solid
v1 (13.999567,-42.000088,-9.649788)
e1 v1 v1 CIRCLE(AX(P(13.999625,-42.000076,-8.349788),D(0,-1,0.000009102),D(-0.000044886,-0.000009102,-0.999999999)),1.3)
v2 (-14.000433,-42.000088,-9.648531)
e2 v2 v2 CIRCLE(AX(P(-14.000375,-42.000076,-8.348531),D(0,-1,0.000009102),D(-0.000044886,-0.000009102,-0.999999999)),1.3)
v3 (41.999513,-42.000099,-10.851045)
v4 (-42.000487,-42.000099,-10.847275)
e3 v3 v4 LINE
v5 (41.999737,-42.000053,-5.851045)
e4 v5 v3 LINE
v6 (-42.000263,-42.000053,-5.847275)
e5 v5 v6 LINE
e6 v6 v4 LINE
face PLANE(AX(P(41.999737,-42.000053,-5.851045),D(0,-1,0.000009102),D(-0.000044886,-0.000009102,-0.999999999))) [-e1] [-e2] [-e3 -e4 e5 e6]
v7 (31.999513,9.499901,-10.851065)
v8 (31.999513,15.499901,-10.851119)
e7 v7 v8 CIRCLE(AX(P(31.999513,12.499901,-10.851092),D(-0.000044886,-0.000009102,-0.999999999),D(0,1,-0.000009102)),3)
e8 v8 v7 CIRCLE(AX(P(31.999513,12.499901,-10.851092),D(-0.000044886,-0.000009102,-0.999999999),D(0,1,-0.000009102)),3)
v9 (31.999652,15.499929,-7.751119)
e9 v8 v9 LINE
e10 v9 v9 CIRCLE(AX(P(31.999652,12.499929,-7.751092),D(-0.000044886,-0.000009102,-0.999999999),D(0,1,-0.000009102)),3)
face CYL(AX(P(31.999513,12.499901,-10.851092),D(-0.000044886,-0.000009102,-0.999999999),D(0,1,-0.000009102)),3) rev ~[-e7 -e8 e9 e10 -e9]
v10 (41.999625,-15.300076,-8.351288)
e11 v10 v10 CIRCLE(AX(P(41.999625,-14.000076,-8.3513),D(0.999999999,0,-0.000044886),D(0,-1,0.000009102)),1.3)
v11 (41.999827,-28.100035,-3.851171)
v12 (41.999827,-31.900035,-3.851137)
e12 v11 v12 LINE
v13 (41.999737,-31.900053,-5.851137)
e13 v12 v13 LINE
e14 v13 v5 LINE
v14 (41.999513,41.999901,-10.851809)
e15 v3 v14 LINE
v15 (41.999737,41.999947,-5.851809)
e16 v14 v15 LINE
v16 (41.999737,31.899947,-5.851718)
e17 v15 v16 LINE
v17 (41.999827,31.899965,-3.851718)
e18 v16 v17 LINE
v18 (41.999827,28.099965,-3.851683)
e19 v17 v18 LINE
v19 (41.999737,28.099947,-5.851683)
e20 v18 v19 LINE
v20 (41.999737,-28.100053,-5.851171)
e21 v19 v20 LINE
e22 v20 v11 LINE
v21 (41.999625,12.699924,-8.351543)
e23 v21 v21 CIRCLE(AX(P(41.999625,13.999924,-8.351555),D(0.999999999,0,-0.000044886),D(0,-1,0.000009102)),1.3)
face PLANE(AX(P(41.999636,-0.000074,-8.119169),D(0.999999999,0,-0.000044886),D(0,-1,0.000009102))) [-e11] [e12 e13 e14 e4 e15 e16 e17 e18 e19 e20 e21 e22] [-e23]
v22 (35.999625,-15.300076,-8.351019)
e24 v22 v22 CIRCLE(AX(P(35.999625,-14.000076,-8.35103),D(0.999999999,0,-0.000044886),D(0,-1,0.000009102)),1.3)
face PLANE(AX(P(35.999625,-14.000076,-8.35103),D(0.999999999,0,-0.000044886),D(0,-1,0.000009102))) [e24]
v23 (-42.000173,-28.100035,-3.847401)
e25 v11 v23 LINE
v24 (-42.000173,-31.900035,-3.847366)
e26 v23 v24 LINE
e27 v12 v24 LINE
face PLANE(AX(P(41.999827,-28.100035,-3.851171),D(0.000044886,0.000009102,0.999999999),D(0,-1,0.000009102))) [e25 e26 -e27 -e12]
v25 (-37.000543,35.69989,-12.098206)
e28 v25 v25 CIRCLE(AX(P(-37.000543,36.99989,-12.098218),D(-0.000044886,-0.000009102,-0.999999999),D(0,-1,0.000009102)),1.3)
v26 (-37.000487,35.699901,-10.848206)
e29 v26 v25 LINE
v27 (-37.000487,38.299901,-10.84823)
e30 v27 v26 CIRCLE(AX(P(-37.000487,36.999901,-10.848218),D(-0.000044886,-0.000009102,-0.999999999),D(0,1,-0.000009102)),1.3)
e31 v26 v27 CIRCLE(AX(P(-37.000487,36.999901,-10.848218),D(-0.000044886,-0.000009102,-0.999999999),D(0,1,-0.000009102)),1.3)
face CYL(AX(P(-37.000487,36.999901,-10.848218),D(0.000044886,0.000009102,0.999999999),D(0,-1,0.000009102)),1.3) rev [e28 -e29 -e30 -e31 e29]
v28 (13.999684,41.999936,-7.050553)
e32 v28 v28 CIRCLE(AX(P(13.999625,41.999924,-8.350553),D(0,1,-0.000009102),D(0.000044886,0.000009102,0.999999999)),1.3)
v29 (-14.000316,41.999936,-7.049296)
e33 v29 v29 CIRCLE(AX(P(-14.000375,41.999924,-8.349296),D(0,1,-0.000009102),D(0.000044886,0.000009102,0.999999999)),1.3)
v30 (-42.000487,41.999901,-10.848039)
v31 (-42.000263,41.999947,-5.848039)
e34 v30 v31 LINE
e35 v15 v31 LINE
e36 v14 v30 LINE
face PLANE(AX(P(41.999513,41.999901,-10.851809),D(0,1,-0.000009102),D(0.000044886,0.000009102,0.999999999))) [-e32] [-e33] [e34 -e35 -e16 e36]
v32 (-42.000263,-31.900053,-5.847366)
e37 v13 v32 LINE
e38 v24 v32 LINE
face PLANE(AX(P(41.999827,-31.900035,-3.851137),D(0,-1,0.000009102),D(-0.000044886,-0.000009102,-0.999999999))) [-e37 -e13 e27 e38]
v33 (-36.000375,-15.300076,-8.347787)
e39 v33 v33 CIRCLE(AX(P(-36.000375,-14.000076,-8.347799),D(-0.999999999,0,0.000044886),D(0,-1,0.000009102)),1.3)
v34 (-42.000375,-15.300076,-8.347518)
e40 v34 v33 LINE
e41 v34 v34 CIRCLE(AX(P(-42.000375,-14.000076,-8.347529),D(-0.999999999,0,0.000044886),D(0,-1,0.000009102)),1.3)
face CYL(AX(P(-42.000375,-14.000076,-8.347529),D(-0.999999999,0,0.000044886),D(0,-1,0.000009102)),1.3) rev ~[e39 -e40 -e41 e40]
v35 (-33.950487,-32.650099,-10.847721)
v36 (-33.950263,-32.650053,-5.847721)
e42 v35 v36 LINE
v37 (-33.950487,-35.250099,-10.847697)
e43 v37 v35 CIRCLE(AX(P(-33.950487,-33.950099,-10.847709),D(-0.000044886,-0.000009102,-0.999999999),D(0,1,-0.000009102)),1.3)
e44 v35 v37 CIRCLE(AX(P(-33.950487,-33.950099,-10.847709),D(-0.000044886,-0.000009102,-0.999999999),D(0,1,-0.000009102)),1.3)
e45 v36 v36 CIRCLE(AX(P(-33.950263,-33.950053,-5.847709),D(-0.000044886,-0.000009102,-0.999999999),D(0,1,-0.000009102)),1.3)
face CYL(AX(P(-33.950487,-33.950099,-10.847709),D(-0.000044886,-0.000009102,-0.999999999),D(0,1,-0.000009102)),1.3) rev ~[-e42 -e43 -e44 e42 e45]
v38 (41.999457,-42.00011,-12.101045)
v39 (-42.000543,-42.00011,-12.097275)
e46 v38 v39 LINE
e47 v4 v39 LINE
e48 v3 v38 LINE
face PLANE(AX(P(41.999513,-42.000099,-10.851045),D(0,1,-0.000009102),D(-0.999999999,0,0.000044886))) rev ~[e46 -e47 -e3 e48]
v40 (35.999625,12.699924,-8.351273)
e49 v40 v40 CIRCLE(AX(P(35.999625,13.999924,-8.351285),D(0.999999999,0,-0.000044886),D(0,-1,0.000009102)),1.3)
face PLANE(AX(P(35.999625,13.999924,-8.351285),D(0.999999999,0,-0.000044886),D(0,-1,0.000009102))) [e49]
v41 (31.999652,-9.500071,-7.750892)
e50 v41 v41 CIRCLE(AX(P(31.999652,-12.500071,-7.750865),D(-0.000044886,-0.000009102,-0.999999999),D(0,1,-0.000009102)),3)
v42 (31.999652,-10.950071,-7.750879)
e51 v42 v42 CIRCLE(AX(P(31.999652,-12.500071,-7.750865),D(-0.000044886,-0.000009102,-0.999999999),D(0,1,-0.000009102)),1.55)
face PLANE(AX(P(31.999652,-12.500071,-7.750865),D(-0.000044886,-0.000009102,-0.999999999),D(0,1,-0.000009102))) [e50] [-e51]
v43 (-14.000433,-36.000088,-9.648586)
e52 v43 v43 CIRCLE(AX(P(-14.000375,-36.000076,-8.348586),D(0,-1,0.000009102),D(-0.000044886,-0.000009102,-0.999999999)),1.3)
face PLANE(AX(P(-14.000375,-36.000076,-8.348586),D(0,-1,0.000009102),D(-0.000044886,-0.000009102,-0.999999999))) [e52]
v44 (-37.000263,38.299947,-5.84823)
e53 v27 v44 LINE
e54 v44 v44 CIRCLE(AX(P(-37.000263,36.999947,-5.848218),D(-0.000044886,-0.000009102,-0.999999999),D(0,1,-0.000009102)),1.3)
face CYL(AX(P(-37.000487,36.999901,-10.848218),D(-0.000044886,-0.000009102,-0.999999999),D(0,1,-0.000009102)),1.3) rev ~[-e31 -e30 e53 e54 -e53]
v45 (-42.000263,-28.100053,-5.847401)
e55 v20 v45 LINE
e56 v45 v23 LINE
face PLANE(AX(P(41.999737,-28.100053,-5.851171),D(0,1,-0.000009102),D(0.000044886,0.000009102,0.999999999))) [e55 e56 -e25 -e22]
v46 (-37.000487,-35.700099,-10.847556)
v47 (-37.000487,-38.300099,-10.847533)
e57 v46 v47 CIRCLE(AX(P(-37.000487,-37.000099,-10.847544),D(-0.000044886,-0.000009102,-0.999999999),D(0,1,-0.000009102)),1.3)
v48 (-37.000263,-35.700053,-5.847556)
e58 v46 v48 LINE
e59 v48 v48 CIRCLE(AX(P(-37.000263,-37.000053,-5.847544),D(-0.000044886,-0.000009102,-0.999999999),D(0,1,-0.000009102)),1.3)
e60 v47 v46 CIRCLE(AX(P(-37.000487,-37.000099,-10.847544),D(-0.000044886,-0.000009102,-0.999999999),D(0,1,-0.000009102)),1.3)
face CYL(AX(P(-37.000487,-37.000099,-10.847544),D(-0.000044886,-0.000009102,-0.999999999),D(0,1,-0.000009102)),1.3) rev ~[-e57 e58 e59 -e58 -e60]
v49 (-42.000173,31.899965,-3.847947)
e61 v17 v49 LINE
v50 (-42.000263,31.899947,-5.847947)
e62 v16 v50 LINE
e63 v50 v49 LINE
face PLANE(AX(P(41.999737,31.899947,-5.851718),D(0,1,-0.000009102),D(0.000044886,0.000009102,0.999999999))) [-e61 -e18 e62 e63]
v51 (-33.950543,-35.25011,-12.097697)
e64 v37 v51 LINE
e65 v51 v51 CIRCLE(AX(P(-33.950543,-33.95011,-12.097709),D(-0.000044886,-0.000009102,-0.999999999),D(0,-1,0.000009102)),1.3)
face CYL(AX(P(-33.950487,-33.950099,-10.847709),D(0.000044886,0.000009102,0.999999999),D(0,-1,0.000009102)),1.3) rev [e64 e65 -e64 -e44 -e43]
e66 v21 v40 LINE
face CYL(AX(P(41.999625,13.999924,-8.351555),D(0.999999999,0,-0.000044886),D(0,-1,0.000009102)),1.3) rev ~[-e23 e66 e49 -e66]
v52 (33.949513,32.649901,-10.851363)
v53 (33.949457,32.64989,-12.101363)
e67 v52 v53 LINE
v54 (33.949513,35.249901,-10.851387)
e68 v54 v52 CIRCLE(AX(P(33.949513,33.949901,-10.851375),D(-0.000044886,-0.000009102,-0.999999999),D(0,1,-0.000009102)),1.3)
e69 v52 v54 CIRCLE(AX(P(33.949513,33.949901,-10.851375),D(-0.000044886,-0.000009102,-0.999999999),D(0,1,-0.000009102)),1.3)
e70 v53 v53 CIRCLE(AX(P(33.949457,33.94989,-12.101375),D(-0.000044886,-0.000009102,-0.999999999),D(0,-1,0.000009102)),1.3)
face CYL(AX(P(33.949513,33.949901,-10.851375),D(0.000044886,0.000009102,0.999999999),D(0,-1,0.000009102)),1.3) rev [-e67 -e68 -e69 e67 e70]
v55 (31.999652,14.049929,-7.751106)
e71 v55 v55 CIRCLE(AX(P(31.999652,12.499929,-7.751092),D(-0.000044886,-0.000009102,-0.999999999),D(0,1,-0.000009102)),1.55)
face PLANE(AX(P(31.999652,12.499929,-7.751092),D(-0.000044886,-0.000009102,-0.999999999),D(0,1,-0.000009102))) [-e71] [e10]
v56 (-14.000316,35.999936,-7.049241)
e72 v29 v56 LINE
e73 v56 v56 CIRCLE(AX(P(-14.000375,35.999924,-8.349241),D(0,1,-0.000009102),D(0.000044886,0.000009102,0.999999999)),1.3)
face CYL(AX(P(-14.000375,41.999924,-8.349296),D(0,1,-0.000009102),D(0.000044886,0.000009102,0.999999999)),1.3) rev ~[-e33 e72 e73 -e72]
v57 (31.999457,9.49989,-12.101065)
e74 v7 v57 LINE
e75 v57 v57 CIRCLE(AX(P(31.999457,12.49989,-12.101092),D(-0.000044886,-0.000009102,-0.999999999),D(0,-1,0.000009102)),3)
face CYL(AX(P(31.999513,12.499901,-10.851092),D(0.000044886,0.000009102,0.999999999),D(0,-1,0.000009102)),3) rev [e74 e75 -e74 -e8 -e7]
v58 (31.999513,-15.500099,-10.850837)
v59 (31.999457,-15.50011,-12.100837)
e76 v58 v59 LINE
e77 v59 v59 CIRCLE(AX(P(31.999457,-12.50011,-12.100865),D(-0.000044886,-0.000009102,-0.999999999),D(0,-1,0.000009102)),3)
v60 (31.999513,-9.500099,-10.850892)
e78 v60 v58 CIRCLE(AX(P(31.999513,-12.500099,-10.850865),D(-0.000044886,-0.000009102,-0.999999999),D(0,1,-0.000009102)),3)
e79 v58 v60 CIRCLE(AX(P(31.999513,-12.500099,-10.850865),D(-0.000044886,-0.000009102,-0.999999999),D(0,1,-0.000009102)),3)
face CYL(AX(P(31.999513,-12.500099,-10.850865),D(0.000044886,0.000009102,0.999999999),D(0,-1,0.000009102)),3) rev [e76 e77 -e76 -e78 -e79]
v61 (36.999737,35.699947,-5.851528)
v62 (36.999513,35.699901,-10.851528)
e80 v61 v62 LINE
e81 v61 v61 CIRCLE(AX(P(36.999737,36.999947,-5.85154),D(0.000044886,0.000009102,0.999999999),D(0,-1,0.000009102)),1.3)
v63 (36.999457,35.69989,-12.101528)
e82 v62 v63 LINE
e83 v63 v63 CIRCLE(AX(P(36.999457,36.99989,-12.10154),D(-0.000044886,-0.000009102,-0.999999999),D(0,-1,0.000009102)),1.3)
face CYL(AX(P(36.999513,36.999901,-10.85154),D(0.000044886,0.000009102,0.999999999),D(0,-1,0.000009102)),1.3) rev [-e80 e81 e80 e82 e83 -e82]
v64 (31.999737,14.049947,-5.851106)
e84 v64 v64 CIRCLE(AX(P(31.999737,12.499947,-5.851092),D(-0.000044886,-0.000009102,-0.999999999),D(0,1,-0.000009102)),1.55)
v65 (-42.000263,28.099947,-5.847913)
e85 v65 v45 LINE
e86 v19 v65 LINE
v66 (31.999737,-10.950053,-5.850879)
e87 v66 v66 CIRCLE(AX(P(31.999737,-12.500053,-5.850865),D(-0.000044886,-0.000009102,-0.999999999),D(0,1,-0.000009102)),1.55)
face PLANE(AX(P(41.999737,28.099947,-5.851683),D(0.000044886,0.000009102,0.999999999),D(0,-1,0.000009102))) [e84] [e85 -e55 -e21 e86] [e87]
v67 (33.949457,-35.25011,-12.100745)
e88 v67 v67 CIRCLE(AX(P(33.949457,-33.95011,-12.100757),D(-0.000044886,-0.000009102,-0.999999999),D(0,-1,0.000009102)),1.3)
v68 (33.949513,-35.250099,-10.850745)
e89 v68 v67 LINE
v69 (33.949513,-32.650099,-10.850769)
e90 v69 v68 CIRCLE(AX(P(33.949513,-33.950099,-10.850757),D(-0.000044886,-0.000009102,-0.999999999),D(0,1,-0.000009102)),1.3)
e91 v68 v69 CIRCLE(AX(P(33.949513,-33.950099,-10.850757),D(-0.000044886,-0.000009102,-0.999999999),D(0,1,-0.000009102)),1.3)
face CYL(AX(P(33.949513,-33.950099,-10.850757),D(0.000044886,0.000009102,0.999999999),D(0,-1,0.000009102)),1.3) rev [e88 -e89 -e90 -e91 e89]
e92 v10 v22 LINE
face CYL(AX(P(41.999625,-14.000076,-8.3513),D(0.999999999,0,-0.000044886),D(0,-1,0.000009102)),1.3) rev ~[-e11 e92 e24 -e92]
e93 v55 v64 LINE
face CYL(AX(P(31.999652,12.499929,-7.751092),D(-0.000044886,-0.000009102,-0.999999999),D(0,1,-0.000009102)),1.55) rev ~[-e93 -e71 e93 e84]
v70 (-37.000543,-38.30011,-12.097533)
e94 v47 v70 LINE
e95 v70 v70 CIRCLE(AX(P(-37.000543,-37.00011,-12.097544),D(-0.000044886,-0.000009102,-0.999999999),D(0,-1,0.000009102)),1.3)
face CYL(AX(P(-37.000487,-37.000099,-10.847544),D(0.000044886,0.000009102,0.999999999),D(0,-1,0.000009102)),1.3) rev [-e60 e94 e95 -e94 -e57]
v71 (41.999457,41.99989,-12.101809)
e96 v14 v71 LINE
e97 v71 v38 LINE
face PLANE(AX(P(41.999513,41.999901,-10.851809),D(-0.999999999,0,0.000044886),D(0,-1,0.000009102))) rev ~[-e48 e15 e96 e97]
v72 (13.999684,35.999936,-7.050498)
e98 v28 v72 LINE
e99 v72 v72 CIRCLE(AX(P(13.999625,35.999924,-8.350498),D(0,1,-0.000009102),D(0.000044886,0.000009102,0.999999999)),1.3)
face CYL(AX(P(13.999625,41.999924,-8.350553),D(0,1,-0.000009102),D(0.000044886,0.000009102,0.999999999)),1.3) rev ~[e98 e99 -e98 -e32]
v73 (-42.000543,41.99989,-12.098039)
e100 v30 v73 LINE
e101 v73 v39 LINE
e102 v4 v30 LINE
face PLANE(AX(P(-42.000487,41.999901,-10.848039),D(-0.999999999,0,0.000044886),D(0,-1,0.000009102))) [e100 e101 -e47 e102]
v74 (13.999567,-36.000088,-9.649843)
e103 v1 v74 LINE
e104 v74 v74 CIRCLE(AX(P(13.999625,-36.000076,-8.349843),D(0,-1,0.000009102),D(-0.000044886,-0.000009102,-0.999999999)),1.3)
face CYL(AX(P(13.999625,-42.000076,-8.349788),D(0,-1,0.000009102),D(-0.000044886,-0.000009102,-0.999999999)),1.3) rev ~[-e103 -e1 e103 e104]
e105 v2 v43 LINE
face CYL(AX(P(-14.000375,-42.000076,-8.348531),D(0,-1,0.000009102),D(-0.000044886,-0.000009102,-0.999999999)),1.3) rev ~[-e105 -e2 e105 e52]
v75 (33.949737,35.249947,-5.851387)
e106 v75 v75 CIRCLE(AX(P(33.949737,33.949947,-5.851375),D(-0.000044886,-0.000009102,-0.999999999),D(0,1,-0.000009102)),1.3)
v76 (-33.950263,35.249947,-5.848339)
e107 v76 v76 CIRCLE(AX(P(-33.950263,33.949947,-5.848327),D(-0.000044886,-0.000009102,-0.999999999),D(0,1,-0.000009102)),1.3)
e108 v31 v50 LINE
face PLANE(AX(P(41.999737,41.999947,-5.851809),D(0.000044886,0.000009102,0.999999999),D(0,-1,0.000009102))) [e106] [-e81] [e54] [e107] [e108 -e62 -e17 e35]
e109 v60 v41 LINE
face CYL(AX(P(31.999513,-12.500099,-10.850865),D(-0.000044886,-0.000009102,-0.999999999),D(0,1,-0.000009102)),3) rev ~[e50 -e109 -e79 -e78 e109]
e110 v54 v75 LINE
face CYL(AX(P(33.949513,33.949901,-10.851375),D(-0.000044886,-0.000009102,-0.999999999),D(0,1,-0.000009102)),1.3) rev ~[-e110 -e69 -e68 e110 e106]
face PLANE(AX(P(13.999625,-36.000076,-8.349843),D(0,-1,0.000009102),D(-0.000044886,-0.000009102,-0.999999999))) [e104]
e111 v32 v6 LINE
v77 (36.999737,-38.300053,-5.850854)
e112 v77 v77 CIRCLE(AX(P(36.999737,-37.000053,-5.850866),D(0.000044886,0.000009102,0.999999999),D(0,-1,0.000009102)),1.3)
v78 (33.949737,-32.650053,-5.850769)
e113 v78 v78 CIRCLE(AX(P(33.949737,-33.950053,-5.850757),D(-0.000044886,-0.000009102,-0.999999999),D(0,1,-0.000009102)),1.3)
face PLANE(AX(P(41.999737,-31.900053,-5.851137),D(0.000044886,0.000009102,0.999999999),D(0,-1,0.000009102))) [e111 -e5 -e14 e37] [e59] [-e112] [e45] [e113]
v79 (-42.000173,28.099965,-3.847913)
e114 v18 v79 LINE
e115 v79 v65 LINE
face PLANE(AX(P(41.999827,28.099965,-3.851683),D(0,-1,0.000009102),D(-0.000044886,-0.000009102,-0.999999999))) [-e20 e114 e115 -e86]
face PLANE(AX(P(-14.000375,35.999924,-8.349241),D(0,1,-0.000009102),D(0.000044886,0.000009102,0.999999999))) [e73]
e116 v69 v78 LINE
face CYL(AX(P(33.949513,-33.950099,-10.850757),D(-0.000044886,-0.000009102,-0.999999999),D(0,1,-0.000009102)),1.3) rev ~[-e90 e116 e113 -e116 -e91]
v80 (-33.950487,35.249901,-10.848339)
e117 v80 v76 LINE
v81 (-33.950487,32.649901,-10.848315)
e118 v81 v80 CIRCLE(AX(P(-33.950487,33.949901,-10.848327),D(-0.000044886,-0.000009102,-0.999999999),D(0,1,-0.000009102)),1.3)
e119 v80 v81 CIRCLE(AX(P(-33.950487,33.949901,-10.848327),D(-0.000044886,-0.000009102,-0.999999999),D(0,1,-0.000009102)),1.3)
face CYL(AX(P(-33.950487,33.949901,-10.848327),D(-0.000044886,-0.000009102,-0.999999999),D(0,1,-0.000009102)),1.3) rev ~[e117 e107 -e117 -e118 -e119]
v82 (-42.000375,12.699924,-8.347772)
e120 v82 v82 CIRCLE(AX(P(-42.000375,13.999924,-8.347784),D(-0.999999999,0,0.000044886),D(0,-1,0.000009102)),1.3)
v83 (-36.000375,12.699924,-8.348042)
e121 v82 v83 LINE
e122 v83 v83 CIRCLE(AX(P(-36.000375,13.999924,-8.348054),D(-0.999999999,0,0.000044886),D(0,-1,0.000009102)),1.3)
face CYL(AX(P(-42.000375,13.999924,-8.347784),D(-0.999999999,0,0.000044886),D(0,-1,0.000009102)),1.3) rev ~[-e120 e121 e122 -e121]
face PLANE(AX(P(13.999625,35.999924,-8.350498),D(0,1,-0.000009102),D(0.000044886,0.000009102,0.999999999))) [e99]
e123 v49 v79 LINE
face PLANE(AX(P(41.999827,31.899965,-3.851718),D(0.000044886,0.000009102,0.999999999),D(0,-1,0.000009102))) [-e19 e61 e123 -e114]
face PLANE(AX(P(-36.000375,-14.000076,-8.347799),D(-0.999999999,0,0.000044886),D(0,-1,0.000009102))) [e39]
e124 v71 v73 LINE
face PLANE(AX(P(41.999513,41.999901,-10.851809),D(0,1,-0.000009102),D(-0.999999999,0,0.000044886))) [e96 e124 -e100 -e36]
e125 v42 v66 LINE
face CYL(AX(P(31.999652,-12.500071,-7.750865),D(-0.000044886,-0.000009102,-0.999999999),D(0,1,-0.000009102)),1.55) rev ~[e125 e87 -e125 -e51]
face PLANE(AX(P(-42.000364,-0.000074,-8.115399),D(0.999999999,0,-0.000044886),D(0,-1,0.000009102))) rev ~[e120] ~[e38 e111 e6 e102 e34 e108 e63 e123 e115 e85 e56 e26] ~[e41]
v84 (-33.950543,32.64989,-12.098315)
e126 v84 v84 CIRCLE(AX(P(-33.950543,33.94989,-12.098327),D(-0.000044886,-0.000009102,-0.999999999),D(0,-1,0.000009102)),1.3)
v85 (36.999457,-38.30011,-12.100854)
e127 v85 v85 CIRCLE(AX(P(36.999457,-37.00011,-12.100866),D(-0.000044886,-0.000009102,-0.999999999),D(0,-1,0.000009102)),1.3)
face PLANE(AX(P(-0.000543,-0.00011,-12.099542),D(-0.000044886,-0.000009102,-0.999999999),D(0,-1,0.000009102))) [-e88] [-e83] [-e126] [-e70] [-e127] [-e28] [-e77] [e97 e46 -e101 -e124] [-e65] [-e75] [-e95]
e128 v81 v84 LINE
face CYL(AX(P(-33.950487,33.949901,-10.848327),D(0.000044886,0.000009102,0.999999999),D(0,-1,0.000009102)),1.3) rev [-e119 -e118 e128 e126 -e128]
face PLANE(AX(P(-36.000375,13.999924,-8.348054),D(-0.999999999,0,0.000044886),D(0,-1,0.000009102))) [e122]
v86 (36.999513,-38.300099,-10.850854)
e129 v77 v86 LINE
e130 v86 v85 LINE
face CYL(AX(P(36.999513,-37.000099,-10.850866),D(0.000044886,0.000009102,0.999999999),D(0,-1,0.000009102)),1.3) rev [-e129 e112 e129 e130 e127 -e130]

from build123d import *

# Parameters (mm, degrees)
PAD015_DEPTH         = 84
SKETCH025_R          = 3
POCKET009_DEPTH      = 3.1
SKETCH026_R          = 1.55
POCKET010_DEPTH      = 3.9054430506
SKETCH029_R          = 1.3
POCKET013_DEPTH      = 5.0055349839
SKETCH036_R          = 1.3
POCKET018_DEPTH      = 7.0054430506
SKETCH040_R          = 1.3
POCKET021_DEPTH      = 7.0054430506
POCKET021_FACE10_W   = 84
POCKET021_FACE10_H   = 84
POCKET021_FACE10_R   = 1.3
POCKET021_FACE10_R_2 = 3
PAD021_DEPTH         = 1.25
SKETCH041_R          = 1.3
POCKET022_DEPTH      = 6
SKETCH042_R          = 1.3
POCKET023_DEPTH      = 6
SKETCH043_R          = 1.3
POCKET024_DEPTH      = 6
SKETCH044_R          = 1.3
POCKET025_DEPTH      = 6


with BuildPart() as part:
    # Sketch024 (on DatumPlane) → Pad015 (new body)
    with BuildSketch(Plane(origin=(42.0007630338, 0.0001547258, 16.9985727734), x_dir=(0, -1, 9.1023e-06), z_dir=(0.999999999, -4e-10, -4.48856e-05))):
        Polygon((-42, 22.85), (-31.9, 22.85), (-31.9, 20.85), (-28.1, 20.85), (-28.1, 22.85), (28.1, 22.85), (28.1, 20.85), (31.9, 20.85), (31.9, 22.85), (42, 22.85), (42, 27.85), (-42, 27.85), align=None)
    extrude(amount=-PAD015_DEPTH)

    # Sketch025 (on Face11 of Pad015) → Pocket009 (cut)
    with BuildSketch(Plane(origin=(41.9995129693, -9.87728e-05, -10.8514271974), x_dir=(0, 1, -9.1023e-06), z_dir=(-4.48856e-05, -9.1023e-06, -0.999999999))):
        with Locations((-12.5, -10)):
            Circle(SKETCH025_R)
        with Locations((12.5, -10)):
            Circle(SKETCH025_R)
    extrude(amount=-POCKET009_DEPTH, mode=Mode.SUBTRACT)

    # Sketch026 (on Face17 of Pocket009) → Pocket010 (cut, through all)
    with BuildSketch(Plane(origin=(41.9996521147, -7.05557e-05, -7.7514272007), x_dir=(0, 1, -9.1023e-06), z_dir=(-4.48856e-05, -9.1023e-06, -0.999999999))):
        with Locations((-12.5, -10)):
            Circle(SKETCH026_R)
        with Locations((12.5, -10)):
            Circle(SKETCH026_R)
    extrude(amount=-POCKET010_DEPTH, mode=Mode.SUBTRACT)

    # Sketch029 (on Face13 of Pocket010) → Pocket013 (cut, through all)
    with BuildSketch(Plane(origin=(41.9997373974, -5.32613e-05, -5.8514272027), x_dir=(0, -1, 9.1023e-06), z_dir=(4.48856e-05, 9.1023e-06, 0.999999999))):
        with Locations((37, -5)):
            Circle(SKETCH029_R)
        with Locations((-37, -5)):
            Circle(SKETCH029_R)
    extrude(amount=-POCKET013_DEPTH, mode=Mode.SUBTRACT)

    # Sketch036 (on Face7 of Pocket013) → Pocket018 (cut, through all)
    with BuildSketch(Plane(origin=(41.9995129693, -9.87728e-05, -10.8514271974), x_dir=(0, 1, -9.1023e-06), z_dir=(-4.48856e-05, -9.1023e-06, -0.999999999))):
        with Locations((-37, -79)):
            Circle(SKETCH036_R)
        with Locations((37, -79)):
            Circle(SKETCH036_R)
    extrude(amount=-POCKET018_DEPTH, mode=Mode.SUBTRACT)

    # Sketch040 (on Face8 of Pocket018) → Pocket021 (cut, through all)
    with BuildSketch(Plane(origin=(41.9995129693, -9.87728e-05, -10.8514271974), x_dir=(0, 1, -9.1023e-06), z_dir=(-4.48856e-05, -9.1023e-06, -0.999999999))):
        with Locations((-33.95, -8.05)):
            Circle(SKETCH040_R)
        with Locations((-33.95, -75.95)):
            Circle(SKETCH040_R)
        with Locations((33.95, -75.95)):
            Circle(SKETCH040_R)
        with Locations((33.95, -8.05)):
            Circle(SKETCH040_R)
    extrude(amount=-POCKET021_DEPTH, mode=Mode.SUBTRACT)

    # Pocket021 Face10 → Pad021 (add)
    with BuildSketch(Plane(origin=(-0.2605938375, -9.87555e-05, -10.8495303264), x_dir=(0, -1, 9.1023e-06), z_dir=(-4.48856e-05, -9.1023e-06, -0.999999999))):
        with Locations((0, -0.2601068494)):
            Rectangle(POCKET021_FACE10_W, POCKET021_FACE10_H)
        with Locations((37, 36.7398931506)):
            Circle(POCKET021_FACE10_R, mode=Mode.SUBTRACT)
        with Locations((33.95, 33.6898931506)):
            Circle(POCKET021_FACE10_R, mode=Mode.SUBTRACT)
        with Locations((-37, 36.7398931506)):
            Circle(POCKET021_FACE10_R, mode=Mode.SUBTRACT)
        with Locations((-33.95, 33.6898931506)):
            Circle(POCKET021_FACE10_R, mode=Mode.SUBTRACT)
        with Locations((33.95, -34.2101068494)):
            Circle(POCKET021_FACE10_R, mode=Mode.SUBTRACT)
        with Locations((37, -37.2601068494)):
            Circle(POCKET021_FACE10_R, mode=Mode.SUBTRACT)
        with Locations((12.5, -32.2601068494)):
            Circle(POCKET021_FACE10_R_2, mode=Mode.SUBTRACT)
        with Locations((-12.5, -32.2601068494)):
            Circle(POCKET021_FACE10_R_2, mode=Mode.SUBTRACT)
        with Locations((-33.95, -34.2101068494)):
            Circle(POCKET021_FACE10_R, mode=Mode.SUBTRACT)
        with Locations((-37, -37.2601068494)):
            Circle(POCKET021_FACE10_R, mode=Mode.SUBTRACT)
    extrude(amount=PAD021_DEPTH)

    # Sketch041 (on Face16 of Pad021) → Pocket022 (cut)
    with BuildSketch(Plane(origin=(42.0007630338, 0.0001547258, 16.9985727734), x_dir=(0, -1, 9.1023e-06), z_dir=(0.999999999, -4e-10, -4.48856e-05))):
        with Locations((-14, 25.35)):
            Circle(SKETCH041_R)
        with Locations((14, 25.35)):
            Circle(SKETCH041_R)
    extrude(amount=-POCKET022_DEPTH, mode=Mode.SUBTRACT)

    # Sketch042 (on Face12 of Pocket022) → Pocket023 (cut)
    with BuildSketch(Plane(origin=(42.0007630338, -41.9998452724, 16.9989550693), x_dir=(-4.48856e-05, -9.1023e-06, -0.999999999), z_dir=(0, -1, 9.1023e-06))):
        with Locations((25.35, -28)):
            Circle(SKETCH042_R)
        with Locations((25.35, -56)):
            Circle(SKETCH042_R)
    extrude(amount=-POCKET023_DEPTH, mode=Mode.SUBTRACT)

    # Sketch043 (on Face4 of Pocket023) → Pocket024 (cut)
    with BuildSketch(Plane(origin=(-41.9992368816, 0.0001547602, 17.0023431654), x_dir=(0, -1, 9.1023e-06), z_dir=(-0.999999999, 4e-10, 4.48856e-05))):
        with Locations((-14, -25.35)):
            Circle(SKETCH043_R)
        with Locations((14, -25.35)):
            Circle(SKETCH043_R)
    extrude(amount=-POCKET024_DEPTH, mode=Mode.SUBTRACT)

    # Sketch044 (on Face2 of Pocket024) → Pocket025 (cut)
    with BuildSketch(Plane(origin=(42.0007630338, 42.0001547241, 16.9981904774), x_dir=(4.48856e-05, 9.1023e-06, 0.999999999), z_dir=(0, 1, -9.1023e-06))):
        with Locations((-25.35, -28)):
            Circle(SKETCH044_R)
        with Locations((-25.35, -56)):
            Circle(SKETCH044_R)
    extrude(amount=-POCKET025_DEPTH, mode=Mode.SUBTRACT)


solid = part.part
